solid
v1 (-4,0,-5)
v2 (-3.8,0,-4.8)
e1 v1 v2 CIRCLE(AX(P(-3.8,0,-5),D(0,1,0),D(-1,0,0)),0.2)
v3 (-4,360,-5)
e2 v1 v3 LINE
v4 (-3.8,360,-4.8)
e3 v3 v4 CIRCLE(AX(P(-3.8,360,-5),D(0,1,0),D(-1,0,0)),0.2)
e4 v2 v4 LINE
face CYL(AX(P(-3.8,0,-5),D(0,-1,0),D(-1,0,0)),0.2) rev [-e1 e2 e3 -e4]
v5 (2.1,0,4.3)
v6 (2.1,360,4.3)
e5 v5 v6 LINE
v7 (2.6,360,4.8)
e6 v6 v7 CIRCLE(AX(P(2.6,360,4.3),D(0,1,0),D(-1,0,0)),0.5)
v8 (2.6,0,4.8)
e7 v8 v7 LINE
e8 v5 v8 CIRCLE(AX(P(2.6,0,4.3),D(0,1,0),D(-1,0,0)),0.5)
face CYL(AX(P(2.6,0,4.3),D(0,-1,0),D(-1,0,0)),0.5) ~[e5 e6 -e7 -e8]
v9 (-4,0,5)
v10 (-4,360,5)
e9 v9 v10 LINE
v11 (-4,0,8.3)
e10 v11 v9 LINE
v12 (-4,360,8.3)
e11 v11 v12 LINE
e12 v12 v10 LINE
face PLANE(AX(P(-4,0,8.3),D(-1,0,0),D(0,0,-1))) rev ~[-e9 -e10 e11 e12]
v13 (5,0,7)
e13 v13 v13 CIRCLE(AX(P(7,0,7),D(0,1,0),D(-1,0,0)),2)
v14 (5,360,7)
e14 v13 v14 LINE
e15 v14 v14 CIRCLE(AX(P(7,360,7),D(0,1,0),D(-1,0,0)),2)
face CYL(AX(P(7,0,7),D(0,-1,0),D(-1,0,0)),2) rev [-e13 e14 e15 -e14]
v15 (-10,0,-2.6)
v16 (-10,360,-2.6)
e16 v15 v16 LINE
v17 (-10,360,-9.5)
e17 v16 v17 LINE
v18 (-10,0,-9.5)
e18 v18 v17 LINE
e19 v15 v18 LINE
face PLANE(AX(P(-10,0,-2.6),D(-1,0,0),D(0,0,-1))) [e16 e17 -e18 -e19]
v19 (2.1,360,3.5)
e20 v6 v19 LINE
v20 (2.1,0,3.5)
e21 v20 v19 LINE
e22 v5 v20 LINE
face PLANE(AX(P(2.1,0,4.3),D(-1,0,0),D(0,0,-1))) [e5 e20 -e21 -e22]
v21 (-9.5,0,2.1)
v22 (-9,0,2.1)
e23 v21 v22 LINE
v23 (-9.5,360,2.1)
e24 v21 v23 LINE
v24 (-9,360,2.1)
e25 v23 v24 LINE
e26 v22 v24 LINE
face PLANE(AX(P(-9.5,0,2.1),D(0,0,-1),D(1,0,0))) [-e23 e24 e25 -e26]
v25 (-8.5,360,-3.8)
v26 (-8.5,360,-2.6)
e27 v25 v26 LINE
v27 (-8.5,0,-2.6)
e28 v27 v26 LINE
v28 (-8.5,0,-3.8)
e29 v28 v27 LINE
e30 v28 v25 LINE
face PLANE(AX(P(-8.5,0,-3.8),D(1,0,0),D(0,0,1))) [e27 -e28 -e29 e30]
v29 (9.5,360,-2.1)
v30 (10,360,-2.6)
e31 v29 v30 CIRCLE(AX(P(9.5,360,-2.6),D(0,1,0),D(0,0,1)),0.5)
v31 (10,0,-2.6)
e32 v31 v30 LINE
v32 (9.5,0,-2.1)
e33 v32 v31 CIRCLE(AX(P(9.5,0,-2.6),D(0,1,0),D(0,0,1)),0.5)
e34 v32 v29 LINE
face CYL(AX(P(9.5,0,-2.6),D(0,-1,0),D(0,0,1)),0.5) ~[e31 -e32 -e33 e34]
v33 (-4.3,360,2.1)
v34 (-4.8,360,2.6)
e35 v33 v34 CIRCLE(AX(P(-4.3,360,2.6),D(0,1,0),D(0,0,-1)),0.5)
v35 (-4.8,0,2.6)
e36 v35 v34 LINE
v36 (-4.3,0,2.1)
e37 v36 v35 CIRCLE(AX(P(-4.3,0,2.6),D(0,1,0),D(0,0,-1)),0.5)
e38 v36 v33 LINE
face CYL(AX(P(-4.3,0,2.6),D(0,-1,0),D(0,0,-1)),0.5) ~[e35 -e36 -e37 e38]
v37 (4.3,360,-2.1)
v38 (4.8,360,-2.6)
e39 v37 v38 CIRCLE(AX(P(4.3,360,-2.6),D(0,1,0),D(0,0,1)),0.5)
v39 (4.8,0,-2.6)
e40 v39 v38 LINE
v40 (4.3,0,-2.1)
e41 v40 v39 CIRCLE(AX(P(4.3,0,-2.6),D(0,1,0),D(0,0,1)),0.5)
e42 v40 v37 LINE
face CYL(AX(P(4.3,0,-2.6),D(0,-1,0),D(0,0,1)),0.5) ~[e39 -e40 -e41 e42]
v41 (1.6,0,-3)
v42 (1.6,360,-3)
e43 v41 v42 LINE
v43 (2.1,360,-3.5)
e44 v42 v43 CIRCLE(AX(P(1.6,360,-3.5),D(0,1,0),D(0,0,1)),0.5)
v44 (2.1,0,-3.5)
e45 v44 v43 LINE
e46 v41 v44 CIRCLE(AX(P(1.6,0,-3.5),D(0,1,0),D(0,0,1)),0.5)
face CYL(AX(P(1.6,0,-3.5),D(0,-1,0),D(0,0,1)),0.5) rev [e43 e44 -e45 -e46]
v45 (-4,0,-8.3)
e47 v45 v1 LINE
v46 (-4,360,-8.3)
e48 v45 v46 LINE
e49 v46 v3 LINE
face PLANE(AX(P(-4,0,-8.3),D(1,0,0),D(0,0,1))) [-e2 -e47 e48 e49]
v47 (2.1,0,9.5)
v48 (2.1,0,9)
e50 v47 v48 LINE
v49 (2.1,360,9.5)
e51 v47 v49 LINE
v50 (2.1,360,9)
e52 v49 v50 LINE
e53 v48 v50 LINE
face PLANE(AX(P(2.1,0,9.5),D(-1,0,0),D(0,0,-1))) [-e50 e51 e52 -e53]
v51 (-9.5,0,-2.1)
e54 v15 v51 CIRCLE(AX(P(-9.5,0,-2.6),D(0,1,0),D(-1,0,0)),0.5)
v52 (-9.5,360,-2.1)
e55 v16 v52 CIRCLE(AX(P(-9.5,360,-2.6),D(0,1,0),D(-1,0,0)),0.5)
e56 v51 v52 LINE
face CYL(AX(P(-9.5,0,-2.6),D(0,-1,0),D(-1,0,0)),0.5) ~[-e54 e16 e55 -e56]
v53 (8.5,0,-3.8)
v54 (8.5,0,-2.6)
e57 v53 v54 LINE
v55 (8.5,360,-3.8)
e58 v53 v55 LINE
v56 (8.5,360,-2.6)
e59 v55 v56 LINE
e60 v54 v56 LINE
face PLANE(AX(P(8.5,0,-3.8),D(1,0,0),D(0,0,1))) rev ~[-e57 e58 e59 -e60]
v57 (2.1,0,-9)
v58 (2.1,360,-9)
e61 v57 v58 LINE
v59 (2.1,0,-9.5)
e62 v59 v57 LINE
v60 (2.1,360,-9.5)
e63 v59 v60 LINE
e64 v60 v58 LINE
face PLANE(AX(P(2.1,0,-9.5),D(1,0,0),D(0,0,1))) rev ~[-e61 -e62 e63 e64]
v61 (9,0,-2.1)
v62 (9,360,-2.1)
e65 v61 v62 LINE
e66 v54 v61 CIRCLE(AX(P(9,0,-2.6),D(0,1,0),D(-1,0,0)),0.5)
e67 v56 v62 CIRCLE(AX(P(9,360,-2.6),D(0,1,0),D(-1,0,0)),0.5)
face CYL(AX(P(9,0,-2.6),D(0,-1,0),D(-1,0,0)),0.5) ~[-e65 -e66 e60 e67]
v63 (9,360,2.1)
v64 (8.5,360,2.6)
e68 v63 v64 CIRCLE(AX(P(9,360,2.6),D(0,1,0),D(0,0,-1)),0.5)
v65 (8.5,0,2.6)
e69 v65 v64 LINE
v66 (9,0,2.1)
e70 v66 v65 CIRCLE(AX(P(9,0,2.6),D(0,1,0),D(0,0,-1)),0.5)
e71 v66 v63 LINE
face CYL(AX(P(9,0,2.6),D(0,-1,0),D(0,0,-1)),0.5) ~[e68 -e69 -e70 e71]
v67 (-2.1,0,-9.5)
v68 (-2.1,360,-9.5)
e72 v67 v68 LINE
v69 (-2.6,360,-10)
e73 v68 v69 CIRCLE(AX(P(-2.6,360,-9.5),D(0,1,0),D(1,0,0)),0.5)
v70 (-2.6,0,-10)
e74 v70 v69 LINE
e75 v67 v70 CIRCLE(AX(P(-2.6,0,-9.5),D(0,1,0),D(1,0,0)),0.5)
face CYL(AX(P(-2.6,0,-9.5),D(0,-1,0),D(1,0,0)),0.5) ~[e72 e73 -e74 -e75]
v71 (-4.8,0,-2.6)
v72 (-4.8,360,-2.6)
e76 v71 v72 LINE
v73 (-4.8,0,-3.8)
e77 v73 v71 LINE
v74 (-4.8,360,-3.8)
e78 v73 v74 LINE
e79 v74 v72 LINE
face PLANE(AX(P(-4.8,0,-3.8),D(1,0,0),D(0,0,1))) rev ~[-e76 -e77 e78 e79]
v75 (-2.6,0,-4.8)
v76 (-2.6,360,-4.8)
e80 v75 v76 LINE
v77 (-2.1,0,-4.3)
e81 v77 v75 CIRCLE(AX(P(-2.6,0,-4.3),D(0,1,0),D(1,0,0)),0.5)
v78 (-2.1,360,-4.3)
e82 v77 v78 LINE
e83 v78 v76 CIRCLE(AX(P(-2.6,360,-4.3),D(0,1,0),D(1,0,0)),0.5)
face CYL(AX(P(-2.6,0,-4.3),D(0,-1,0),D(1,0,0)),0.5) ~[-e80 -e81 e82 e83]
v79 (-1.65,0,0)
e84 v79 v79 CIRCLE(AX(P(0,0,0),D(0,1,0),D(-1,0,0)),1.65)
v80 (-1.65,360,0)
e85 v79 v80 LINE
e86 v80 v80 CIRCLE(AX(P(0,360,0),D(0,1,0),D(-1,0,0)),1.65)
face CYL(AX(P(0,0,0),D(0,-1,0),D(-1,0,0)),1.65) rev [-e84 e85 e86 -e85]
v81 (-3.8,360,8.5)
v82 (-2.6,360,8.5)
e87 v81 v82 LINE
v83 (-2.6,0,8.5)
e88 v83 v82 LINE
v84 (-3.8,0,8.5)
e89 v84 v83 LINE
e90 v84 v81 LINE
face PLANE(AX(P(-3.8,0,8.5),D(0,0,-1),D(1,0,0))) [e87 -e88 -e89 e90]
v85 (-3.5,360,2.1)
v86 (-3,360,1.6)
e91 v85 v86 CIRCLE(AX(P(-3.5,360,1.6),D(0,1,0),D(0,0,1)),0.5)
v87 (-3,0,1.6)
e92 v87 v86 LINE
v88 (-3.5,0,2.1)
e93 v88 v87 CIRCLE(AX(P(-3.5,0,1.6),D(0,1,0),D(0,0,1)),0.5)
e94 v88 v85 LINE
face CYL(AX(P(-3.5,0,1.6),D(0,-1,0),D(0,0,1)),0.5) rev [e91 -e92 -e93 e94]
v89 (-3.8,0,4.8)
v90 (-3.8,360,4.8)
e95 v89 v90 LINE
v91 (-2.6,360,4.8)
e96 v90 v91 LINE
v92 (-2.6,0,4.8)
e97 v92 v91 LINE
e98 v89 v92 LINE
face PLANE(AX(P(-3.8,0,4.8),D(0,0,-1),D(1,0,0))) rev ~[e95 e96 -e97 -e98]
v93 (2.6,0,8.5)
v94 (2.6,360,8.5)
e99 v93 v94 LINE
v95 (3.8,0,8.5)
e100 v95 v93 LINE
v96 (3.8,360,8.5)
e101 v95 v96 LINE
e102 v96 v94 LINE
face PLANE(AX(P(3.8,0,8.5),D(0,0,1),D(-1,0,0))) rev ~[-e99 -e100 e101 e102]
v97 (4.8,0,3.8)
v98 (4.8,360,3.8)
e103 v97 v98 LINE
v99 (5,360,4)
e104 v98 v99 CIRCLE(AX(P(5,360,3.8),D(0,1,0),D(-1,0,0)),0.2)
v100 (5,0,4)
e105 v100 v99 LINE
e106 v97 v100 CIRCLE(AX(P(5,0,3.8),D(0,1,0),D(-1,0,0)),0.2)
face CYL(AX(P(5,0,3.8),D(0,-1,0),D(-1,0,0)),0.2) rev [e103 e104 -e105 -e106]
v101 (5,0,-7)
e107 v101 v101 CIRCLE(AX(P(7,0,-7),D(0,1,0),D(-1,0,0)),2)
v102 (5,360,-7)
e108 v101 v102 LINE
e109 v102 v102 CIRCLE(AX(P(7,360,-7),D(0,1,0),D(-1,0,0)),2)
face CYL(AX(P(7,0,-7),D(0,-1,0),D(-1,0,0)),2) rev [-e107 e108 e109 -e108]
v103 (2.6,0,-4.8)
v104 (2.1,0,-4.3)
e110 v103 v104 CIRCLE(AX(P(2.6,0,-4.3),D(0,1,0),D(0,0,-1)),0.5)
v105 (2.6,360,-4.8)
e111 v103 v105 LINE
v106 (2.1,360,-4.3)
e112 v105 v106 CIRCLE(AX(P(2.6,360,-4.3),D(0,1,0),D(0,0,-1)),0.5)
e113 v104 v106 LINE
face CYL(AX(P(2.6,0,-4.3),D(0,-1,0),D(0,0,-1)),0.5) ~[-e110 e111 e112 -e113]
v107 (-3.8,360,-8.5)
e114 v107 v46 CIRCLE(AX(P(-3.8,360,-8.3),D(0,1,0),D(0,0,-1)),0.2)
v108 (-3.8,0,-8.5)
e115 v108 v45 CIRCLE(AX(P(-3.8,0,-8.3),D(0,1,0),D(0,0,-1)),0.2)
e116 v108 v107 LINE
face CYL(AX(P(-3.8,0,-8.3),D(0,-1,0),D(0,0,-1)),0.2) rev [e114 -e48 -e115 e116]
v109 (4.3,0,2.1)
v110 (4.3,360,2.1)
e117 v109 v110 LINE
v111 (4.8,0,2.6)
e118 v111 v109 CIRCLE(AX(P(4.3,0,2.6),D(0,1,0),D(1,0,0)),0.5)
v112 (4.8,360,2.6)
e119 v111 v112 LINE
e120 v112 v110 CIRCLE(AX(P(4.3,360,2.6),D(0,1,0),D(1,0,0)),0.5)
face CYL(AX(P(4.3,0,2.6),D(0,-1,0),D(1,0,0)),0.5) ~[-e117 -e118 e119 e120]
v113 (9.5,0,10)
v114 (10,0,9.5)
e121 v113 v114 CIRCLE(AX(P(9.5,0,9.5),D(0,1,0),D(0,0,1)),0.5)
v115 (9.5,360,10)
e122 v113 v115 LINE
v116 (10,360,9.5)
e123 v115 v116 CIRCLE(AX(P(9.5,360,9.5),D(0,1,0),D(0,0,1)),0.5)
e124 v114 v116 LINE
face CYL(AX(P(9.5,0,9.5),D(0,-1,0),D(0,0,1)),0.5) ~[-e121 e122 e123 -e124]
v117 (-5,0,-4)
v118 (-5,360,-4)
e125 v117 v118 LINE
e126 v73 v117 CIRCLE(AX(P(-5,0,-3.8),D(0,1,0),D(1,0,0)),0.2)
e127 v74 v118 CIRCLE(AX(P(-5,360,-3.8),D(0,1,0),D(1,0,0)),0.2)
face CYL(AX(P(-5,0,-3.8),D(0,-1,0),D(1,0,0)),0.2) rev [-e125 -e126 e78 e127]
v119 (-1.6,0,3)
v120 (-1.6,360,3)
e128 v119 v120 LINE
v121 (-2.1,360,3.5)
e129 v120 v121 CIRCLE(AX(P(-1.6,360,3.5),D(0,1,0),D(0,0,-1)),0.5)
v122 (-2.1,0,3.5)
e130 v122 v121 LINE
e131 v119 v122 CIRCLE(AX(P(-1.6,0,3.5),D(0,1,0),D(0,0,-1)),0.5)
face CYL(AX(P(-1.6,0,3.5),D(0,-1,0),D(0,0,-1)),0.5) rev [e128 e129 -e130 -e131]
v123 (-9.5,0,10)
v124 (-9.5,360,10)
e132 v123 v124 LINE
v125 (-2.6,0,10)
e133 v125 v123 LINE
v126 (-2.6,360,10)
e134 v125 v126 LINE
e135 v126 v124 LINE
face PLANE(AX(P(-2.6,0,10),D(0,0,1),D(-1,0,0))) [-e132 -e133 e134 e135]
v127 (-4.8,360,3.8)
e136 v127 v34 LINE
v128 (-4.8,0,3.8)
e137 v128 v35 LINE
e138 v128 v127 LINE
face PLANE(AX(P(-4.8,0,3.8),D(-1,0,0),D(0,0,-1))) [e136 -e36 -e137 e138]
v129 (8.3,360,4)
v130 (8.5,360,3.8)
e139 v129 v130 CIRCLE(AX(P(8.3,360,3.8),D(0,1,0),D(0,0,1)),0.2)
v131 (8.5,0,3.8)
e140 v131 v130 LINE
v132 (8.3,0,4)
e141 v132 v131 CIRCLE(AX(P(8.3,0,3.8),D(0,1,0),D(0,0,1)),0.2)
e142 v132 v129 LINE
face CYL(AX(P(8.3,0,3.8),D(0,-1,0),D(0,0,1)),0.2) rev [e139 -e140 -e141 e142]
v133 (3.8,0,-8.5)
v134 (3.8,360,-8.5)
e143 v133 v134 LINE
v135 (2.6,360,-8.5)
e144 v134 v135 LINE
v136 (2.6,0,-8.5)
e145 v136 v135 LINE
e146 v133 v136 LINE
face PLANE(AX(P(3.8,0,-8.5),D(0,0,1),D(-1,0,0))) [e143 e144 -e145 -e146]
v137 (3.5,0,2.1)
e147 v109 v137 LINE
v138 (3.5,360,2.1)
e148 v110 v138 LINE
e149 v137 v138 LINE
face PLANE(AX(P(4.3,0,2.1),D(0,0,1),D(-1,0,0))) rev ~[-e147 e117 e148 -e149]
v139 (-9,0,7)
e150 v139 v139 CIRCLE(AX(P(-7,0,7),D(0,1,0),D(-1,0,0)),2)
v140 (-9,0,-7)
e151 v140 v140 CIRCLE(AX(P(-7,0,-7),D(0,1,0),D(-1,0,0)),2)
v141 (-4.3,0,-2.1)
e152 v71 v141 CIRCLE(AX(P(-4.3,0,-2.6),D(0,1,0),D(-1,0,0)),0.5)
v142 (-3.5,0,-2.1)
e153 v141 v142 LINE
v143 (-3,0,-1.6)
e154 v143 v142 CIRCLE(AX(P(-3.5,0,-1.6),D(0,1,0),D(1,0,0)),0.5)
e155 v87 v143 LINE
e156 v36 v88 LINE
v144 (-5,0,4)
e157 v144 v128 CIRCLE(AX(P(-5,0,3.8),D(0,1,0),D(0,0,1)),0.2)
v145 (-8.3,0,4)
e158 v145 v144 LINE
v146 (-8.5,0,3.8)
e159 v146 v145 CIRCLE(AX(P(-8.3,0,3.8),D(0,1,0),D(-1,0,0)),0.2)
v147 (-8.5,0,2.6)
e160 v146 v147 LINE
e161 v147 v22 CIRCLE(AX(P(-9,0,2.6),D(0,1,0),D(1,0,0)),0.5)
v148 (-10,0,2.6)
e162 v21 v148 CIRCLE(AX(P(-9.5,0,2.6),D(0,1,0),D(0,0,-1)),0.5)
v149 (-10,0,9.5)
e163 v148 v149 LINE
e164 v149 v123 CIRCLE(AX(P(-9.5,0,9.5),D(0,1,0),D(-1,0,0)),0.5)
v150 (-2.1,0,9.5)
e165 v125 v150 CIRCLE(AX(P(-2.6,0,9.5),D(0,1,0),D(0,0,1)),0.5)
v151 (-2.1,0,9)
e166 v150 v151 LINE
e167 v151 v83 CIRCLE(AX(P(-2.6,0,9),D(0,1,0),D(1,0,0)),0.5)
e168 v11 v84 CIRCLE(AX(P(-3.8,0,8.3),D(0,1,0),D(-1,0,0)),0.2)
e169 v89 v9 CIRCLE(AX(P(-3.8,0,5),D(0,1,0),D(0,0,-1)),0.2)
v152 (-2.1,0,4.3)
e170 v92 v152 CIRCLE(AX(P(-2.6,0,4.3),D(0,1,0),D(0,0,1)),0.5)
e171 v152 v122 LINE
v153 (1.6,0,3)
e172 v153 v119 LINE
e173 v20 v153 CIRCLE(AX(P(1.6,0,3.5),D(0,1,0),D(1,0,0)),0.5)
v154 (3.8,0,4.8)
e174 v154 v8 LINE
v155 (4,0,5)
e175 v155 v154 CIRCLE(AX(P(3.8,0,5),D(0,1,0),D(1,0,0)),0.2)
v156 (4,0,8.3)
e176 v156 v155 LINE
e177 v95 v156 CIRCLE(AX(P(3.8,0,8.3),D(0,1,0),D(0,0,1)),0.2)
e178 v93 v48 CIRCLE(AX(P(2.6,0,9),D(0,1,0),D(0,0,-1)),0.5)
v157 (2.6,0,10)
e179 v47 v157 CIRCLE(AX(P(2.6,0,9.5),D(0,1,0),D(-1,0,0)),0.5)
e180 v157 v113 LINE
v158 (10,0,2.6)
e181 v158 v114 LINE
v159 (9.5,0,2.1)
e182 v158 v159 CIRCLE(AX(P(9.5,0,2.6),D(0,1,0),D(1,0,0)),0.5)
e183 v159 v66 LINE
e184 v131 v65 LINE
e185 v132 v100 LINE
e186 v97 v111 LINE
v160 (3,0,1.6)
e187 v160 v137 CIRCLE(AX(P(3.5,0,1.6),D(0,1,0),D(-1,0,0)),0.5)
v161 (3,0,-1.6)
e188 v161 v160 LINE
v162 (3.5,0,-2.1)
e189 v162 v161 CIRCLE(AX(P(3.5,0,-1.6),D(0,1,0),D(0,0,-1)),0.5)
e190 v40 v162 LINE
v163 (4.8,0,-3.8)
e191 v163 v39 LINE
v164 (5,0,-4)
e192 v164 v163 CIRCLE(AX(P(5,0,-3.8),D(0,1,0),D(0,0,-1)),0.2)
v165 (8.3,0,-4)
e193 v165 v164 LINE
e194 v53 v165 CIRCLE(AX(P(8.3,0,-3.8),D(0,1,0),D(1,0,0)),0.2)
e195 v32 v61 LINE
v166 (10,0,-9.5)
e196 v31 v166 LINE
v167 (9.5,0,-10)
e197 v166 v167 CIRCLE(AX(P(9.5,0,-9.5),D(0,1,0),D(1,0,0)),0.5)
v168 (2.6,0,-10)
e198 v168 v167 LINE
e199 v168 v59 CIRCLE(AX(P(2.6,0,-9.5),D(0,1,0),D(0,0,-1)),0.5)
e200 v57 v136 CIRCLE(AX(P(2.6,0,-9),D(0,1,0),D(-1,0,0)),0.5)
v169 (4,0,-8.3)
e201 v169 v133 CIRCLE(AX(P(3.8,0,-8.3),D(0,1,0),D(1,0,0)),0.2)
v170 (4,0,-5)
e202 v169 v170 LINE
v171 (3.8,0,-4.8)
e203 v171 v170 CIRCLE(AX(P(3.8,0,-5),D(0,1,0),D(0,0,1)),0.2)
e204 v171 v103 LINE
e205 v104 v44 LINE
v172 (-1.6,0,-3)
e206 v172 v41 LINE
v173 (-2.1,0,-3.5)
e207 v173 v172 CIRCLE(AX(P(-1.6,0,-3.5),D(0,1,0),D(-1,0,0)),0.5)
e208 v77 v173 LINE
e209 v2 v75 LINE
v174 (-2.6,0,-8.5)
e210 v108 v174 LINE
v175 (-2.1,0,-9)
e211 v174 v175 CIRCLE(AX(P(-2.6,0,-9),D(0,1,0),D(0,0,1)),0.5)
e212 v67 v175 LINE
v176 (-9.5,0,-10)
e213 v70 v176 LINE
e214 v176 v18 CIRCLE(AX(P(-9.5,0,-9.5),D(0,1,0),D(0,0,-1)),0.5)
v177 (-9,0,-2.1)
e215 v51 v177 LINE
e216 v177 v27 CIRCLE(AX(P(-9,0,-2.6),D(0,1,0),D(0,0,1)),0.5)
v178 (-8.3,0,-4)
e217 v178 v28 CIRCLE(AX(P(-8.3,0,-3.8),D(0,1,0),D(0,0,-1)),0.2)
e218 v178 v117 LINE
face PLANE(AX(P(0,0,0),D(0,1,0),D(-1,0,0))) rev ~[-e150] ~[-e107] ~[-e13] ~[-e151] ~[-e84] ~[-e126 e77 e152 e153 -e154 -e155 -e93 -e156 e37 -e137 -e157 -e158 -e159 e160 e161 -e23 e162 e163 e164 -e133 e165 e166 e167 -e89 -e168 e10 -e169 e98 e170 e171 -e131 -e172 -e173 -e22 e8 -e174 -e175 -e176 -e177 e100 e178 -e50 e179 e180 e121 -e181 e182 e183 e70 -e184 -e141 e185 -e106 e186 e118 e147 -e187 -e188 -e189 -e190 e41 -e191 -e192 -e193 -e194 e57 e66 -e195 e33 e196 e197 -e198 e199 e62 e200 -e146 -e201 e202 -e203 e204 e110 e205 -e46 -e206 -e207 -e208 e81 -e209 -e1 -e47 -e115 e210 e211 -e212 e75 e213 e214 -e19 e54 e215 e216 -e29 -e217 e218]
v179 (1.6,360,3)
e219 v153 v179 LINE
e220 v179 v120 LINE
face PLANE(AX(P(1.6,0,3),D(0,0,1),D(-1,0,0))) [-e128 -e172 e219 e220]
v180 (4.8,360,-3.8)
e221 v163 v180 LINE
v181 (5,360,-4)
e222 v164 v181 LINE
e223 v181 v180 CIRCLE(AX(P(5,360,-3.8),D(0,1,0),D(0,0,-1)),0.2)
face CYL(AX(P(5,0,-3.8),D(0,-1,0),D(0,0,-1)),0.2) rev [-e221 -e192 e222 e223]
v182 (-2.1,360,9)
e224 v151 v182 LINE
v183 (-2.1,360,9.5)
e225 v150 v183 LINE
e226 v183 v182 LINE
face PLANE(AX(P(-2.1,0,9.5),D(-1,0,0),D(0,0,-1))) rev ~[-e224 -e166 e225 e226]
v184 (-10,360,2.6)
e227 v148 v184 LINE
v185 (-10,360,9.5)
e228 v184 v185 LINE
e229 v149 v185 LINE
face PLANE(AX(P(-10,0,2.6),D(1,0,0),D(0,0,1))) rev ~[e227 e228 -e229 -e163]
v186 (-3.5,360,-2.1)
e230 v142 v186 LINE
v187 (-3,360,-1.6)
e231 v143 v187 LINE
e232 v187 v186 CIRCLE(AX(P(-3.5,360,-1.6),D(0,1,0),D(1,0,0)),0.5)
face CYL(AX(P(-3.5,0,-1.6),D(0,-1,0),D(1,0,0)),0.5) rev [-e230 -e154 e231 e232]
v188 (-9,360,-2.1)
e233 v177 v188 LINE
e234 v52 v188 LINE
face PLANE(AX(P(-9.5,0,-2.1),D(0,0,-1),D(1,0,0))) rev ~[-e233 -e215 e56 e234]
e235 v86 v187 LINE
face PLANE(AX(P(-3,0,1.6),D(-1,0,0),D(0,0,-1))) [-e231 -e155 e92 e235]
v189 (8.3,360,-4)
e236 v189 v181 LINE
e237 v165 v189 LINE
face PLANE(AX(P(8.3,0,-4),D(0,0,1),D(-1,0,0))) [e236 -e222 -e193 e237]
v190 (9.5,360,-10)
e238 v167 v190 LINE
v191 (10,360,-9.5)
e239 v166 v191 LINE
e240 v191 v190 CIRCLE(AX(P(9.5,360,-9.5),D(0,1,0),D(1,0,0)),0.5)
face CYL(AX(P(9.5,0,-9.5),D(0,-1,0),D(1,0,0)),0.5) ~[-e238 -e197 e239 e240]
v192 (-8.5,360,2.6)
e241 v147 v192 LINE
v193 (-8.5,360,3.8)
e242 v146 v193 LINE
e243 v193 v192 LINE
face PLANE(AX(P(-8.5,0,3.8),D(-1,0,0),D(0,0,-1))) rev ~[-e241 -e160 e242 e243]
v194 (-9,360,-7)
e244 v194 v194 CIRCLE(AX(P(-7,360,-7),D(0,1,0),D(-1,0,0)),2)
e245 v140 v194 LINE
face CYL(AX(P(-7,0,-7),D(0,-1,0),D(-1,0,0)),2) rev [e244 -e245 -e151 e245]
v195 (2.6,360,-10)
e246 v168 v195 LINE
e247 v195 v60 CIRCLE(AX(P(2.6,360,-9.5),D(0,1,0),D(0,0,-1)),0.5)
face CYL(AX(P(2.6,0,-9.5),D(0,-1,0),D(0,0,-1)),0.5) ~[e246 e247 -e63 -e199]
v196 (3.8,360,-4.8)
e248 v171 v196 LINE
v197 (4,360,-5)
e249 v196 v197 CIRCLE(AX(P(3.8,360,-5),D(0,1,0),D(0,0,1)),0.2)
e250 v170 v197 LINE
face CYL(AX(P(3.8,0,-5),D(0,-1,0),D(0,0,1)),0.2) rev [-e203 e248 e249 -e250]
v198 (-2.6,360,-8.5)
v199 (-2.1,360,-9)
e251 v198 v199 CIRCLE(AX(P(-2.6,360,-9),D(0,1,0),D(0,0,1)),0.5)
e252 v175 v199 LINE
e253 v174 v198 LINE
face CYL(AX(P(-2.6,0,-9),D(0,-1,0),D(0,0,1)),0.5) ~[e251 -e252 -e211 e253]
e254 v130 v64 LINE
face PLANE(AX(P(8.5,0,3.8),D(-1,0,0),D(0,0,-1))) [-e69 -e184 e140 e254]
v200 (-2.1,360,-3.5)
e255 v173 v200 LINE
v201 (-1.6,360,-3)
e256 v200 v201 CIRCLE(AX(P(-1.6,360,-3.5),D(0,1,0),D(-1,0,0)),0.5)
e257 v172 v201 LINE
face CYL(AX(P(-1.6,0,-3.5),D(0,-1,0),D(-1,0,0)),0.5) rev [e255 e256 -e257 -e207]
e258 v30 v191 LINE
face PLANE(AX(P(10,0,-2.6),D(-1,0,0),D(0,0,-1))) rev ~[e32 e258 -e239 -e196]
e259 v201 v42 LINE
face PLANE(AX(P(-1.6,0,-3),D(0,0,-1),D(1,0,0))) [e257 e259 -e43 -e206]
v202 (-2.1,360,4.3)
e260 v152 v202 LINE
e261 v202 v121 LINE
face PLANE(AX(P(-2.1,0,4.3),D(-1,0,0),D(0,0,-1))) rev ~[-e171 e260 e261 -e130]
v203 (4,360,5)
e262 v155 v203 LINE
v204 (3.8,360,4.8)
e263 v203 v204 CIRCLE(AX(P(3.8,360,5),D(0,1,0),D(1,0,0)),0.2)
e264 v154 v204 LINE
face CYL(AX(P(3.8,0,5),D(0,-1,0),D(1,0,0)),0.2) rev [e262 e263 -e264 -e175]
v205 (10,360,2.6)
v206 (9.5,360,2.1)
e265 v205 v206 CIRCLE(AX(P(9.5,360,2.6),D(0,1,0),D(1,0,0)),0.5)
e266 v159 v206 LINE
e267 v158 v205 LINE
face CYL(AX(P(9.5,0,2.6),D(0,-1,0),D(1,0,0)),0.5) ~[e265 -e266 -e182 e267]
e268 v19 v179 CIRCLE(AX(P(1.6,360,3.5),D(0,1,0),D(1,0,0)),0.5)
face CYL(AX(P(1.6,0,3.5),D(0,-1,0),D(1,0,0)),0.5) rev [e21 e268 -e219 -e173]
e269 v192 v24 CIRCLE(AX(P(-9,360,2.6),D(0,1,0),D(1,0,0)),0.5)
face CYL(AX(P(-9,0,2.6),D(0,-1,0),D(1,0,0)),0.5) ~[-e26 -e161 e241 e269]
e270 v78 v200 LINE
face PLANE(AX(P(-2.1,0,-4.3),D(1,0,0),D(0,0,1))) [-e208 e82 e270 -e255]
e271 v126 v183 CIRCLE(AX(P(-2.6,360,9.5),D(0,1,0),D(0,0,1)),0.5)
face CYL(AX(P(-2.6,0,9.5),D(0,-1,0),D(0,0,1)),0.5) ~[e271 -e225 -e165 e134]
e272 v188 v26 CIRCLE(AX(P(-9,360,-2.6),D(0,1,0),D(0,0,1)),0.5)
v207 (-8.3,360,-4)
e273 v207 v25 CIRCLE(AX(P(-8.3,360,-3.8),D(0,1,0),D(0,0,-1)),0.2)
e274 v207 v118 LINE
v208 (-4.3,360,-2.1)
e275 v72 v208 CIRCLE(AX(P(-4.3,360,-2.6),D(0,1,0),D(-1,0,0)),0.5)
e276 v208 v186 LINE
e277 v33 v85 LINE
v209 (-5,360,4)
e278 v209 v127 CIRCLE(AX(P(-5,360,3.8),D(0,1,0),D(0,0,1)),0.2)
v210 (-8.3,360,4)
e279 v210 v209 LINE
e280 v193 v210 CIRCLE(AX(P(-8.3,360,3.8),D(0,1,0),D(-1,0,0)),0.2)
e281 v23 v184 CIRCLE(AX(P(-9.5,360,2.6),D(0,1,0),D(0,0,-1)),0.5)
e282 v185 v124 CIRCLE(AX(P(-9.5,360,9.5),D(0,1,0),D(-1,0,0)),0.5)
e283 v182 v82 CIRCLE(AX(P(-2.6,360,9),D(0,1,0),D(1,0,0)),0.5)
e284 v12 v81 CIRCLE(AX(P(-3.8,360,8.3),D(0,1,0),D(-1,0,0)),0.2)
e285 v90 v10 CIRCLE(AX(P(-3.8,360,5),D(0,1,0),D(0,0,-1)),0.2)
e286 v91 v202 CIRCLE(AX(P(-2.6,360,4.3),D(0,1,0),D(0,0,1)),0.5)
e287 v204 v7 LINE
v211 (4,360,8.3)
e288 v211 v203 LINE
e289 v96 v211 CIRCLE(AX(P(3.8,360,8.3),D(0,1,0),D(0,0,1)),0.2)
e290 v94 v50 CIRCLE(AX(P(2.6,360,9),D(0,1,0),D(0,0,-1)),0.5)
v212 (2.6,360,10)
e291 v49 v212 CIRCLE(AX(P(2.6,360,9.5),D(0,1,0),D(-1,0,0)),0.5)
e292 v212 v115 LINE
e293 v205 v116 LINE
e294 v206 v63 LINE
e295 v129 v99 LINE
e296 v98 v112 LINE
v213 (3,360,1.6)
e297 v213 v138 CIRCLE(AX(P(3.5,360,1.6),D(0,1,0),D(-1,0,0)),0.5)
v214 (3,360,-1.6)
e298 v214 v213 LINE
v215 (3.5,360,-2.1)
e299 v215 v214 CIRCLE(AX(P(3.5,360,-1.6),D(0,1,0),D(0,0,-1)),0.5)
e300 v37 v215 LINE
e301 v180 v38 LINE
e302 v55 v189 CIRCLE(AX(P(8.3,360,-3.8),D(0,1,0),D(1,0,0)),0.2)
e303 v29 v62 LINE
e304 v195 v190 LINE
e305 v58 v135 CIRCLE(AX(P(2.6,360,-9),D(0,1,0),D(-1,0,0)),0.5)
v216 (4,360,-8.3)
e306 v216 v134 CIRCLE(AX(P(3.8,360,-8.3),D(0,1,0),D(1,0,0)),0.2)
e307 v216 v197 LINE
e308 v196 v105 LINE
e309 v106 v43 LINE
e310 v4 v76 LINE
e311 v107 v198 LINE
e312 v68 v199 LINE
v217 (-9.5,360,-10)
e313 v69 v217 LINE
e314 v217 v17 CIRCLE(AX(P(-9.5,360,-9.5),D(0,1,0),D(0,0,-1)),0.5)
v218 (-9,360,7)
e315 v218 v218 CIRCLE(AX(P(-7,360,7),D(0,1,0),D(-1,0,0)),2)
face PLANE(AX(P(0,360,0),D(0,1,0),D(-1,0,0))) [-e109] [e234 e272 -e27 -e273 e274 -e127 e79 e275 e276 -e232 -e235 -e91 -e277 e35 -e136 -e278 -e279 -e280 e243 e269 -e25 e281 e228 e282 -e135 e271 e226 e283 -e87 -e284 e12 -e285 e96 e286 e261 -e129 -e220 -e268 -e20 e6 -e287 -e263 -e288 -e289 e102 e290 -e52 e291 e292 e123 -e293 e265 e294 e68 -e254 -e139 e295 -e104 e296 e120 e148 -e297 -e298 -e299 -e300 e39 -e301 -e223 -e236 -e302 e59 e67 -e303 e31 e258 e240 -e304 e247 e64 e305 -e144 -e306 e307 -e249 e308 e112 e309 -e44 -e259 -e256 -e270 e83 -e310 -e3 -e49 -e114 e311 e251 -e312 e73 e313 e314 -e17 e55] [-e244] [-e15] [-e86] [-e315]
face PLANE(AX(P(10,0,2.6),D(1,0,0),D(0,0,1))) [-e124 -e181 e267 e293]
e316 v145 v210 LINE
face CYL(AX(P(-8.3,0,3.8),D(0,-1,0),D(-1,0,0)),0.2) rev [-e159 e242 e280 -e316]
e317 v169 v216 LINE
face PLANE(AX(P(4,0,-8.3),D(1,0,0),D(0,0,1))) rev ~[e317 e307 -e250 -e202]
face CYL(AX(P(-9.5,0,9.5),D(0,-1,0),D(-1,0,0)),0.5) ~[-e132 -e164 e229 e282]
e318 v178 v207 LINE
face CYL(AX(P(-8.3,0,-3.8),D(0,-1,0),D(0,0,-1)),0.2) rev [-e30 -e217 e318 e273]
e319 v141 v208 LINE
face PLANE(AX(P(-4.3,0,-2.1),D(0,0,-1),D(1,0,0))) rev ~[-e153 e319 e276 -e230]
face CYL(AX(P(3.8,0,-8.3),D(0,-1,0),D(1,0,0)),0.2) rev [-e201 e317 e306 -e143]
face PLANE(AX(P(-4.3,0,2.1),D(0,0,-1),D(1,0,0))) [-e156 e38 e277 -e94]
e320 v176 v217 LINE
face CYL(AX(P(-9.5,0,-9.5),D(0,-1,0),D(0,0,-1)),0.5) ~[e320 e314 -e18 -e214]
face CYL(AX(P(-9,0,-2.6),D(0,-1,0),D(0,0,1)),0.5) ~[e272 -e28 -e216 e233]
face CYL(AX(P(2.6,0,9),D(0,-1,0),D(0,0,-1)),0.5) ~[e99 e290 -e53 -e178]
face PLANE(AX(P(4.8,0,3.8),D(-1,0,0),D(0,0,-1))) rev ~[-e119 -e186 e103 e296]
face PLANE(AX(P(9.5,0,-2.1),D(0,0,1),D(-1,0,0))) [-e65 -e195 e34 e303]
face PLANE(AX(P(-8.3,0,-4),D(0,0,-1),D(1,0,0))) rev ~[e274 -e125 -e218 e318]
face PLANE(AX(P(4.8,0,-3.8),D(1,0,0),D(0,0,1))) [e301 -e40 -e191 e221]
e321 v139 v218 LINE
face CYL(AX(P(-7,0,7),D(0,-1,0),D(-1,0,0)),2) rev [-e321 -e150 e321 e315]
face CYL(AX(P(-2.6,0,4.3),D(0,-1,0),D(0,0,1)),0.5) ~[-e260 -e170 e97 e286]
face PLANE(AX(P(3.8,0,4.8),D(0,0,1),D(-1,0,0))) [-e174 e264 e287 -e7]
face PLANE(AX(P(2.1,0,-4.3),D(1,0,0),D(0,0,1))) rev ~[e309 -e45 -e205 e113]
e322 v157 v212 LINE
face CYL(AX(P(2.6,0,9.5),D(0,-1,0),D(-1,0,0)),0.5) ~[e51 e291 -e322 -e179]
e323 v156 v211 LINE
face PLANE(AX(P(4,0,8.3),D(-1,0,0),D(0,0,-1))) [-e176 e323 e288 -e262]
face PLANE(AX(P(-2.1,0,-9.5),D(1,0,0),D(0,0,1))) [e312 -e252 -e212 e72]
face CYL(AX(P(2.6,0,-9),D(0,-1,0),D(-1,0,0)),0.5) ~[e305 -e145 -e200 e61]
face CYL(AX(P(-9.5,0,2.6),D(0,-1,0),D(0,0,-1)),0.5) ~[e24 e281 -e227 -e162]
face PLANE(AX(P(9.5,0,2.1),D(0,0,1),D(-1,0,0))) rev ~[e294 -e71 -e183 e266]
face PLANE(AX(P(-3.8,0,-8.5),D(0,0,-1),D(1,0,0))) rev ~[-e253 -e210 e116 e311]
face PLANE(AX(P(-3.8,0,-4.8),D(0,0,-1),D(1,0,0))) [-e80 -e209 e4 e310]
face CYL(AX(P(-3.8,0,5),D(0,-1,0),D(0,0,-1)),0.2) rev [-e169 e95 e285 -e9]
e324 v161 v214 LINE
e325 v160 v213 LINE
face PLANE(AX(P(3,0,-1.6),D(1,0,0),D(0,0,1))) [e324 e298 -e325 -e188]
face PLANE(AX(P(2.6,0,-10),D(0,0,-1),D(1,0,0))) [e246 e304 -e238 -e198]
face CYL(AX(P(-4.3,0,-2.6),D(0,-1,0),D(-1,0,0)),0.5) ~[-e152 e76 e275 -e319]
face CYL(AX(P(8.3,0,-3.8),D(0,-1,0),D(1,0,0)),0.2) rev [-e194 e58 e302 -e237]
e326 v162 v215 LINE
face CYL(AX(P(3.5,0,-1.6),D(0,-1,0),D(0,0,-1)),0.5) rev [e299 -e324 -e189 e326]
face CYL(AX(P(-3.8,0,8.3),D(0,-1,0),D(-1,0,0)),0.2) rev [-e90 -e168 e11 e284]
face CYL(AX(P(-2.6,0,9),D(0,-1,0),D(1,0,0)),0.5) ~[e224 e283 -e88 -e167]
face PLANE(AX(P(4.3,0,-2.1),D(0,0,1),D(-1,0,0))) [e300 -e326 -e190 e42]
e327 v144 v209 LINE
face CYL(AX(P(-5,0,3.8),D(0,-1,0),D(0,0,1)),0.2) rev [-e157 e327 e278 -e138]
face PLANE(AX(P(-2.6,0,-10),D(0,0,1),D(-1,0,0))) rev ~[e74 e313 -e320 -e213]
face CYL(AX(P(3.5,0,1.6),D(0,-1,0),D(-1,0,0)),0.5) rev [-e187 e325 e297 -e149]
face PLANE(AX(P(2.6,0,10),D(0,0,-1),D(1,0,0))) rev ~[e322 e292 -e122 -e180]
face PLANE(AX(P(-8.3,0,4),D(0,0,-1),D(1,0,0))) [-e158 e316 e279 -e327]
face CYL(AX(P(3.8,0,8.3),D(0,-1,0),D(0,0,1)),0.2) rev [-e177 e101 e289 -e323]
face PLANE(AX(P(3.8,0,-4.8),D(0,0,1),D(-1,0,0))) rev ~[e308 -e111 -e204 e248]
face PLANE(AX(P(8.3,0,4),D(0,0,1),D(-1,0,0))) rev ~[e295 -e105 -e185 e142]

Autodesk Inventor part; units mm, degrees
ref_plane "YZ Plane" through (0, 0, 0) normal (1, 0, 0) x (0, 1, 0)
ref_plane "開始平面" through (0, 0, 0) normal (0, 1, 0) x (-1, 0, 0)
ref_plane "終了平面" through (0, 360, 0) normal (0, 1, 0) x (-1, 0, 0)
sketch "スケッチ" plane through (0, 0, 0) normal (0, 1, 0) x (-1, 0, 0)
  line L0 (8.5, -3.8) -> (8.5, -2.6)
  line L1 (4, -8.3) -> (4, -5)
  circle A0 centre (7, -7) radius 2
  line L2 (10, -2.6) -> (10, -9.5)
  line L3 (2.6, -10) -> (9.5, -10)
  line L4 (2.1, -9.5) -> (2.1, -9)
  line L5 (8.5, -2.1) -> (8.5, -4)
  line L6 (3.8, -4.8) -> (2.6, -4.8)
  line L7 (4.8, -3.8) -> (4.8, -2.6)
  arc A1 (2.1, -4.3) -> (2.6, -4.8) centre (2.6, -4.3) ccw
  arc A2 (2.6, -8.5) -> (2.1, -9) centre (2.6, -9) ccw
  arc A3 (3.8, -8.5) -> (4, -8.3) centre (3.8, -8.3) ccw
  arc A4 (4, -5) -> (3.8, -4.8) centre (3.8, -5) ccw
  arc A5 (2.1, -3.5) -> (1.6, -3) centre (1.6, -3.5) ccw
  arc A6 (2.1, -9.5) -> (2.6, -10) centre (2.6, -9.5) ccw
  arc A7 (9.5, -10) -> (10, -9.5) centre (9.5, -9.5) ccw
  arc A8 (10, -2.6) -> (9.5, -2.1) centre (9.5, -2.6) ccw
  arc A9 (9, -2.1) -> (8.5, -2.6) centre (9, -2.6) ccw
  arc A10 (8.3, -4) -> (8.5, -3.8) centre (8.3, -3.8) ccw
  arc A11 (4.8, -3.8) -> (5, -4) centre (5, -3.8) ccw
  line L8 (4.3, -2.1) -> (3.5, -2.1)
  arc A12 (4.8, -2.6) -> (4.3, -2.1) centre (4.3, -2.6) ccw
  arc A13 (3, -1.6) -> (3.5, -2.1) centre (3.5, -1.6) ccw
  line L9 (2.1, -4.3) -> (2.1, -3.5)
  line L10 (3.8, -8.5) -> (2.6, -8.5)
  line L11 (9.5, -2.1) -> (9, -2.1)
  line L12 (8.3, -4) -> (5, -4)
  circle A14 centre (0, 0) radius 1.65
  arc A15 (8.5, 2.6) -> (9, 2.1) centre (9, 2.6) ccw
  line L13 (8.5, 3.8) -> (8.5, 2.6)
  arc A16 (8.5, 3.8) -> (8.3, 4) centre (8.3, 3.8) ccw
  line L14 (8.3, 4) -> (5, 4)
  line L15 (10, 2.6) -> (10, 9.5)
  arc A17 (10, 9.5) -> (9.5, 10) centre (9.5, 9.5) ccw
  circle A18 centre (7, 7) radius 2
  line L16 (4, 8.3) -> (4, 5)
  line L17 (2.6, 10) -> (9.5, 10)
  line L18 (9.5, 2.1) -> (9, 2.1)
  arc A19 (9.5, 2.1) -> (10, 2.6) centre (9.5, 2.6) ccw
  line L19 (3.8, 8.5) -> (2.6, 8.5)
  line L20 (4.8, 3.8) -> (4.8, 2.6)
  arc A20 (4.3, 2.1) -> (4.8, 2.6) centre (4.3, 2.6) ccw
  line L21 (2.1, 8.5) -> (4, 8.5)
  arc A21 (4, 8.3) -> (3.8, 8.5) centre (3.8, 8.3) ccw
  arc A22 (2.1, 9) -> (2.6, 8.5) centre (2.6, 9) ccw
  arc A23 (2.6, 10) -> (2.1, 9.5) centre (2.6, 9.5) ccw
  line L22 (2.1, 9.5) -> (2.1, 9)
  arc A24 (1.6, 3) -> (2.1, 3.5) centre (1.6, 3.5) ccw
  line L23 (3.8, 4.8) -> (2.6, 4.8)
  arc A25 (5, 4) -> (4.8, 3.8) centre (5, 3.8) ccw
  arc A26 (3.8, 4.8) -> (4, 5) centre (3.8, 5) ccw
  line L24 (4.3, 2.1) -> (3.5, 2.1)
  arc A27 (2.6, 4.8) -> (2.1, 4.3) centre (2.6, 4.3) ccw
  line L25 (2.1, 4.3) -> (2.1, 3.5)
  arc A28 (3.5, 2.1) -> (3, 1.6) centre (3.5, 1.6) ccw
  arc A29 (-2.6, 8.5) -> (-2.1, 9) centre (-2.6, 9) ccw
  line L26 (-3.8, 8.5) -> (-2.6, 8.5)
  arc A30 (-3.8, 8.5) -> (-4, 8.3) centre (-3.8, 8.3) ccw
  line L27 (-4, 8.3) -> (-4, 5)
  line L28 (-2.6, 10) -> (-9.5, 10)
  arc A31 (-9.5, 10) -> (-10, 9.5) centre (-9.5, 9.5) ccw
  circle A32 centre (-7, 7) radius 2
  line L29 (-8.3, 4) -> (-5, 4)
  line L30 (-10, 2.6) -> (-10, 9.5)
  line L31 (-2.1, 9.5) -> (-2.1, 9)
  arc A33 (-2.1, 9.5) -> (-2.6, 10) centre (-2.6, 9.5) ccw
  line L32 (-8.5, 3.8) -> (-8.5, 2.6)
  line L33 (-3.8, 4.8) -> (-2.6, 4.8)
  arc A34 (-2.1, 4.3) -> (-2.6, 4.8) centre (-2.6, 4.3) ccw
  line L34 (-8.5, 2.1) -> (-8.5, 4)
  arc A35 (-8.3, 4) -> (-8.5, 3.8) centre (-8.3, 3.8) ccw
  arc A36 (-9, 2.1) -> (-8.5, 2.6) centre (-9, 2.6) ccw
  arc A37 (-10, 2.6) -> (-9.5, 2.1) centre (-9.5, 2.6) ccw
  line L35 (-9.5, 2.1) -> (-9, 2.1)
  arc A38 (-3, 1.6) -> (-3.5, 2.1) centre (-3.5, 1.6) ccw
  line L36 (-4.8, 3.8) -> (-4.8, 2.6)
  arc A39 (-4, 5) -> (-3.8, 4.8) centre (-3.8, 5) ccw
  arc A40 (-4.8, 3.8) -> (-5, 4) centre (-5, 3.8) ccw
  line L37 (-2.1, 4.3) -> (-2.1, 3.5)
  arc A41 (-4.8, 2.6) -> (-4.3, 2.1) centre (-4.3, 2.6) ccw
  line L38 (-4.3, 2.1) -> (-3.5, 2.1)
  arc A42 (-2.1, 3.5) -> (-1.6, 3) centre (-1.6, 3.5) ccw
  arc A43 (-8.5, -2.6) -> (-9, -2.1) centre (-9, -2.6) ccw
  line L39 (-8.5, -3.8) -> (-8.5, -2.6)
  arc A44 (-8.5, -3.8) -> (-8.3, -4) centre (-8.3, -3.8) ccw
  line L40 (-8.3, -4) -> (-5, -4)
  line L41 (-10, -2.6) -> (-10, -9.5)
  arc A45 (-10, -9.5) -> (-9.5, -10) centre (-9.5, -9.5) ccw
  circle A46 centre (-7, -7) radius 2
  line L42 (-4, -8.3) -> (-4, -5)
  line L43 (-2.6, -10) -> (-9.5, -10)
  line L44 (-9.5, -2.1) -> (-9, -2.1)
  arc A47 (-9.5, -2.1) -> (-10, -2.6) centre (-9.5, -2.6) ccw
  line L45 (-3.8, -8.5) -> (-2.6, -8.5)
  line L46 (-4.8, -3.8) -> (-4.8, -2.6)
  arc A48 (-4.3, -2.1) -> (-4.8, -2.6) centre (-4.3, -2.6) ccw
  line L47 (-2.1, -8.5) -> (-4, -8.5)
  arc A49 (-4, -8.3) -> (-3.8, -8.5) centre (-3.8, -8.3) ccw
  arc A50 (-2.1, -9) -> (-2.6, -8.5) centre (-2.6, -9) ccw
  arc A51 (-2.6, -10) -> (-2.1, -9.5) centre (-2.6, -9.5) ccw
  line L48 (-2.1, -9.5) -> (-2.1, -9)
  arc A52 (-1.6, -3) -> (-2.1, -3.5) centre (-1.6, -3.5) ccw
  line L49 (-3.8, -4.8) -> (-2.6, -4.8)
  arc A53 (-5, -4) -> (-4.8, -3.8) centre (-5, -3.8) ccw
  arc A54 (-3.8, -4.8) -> (-4, -5) centre (-3.8, -5) ccw
  line L50 (-4.3, -2.1) -> (-3.5, -2.1)
  arc A55 (-2.6, -4.8) -> (-2.1, -4.3) centre (-2.6, -4.3) ccw
  line L51 (-2.1, -4.3) -> (-2.1, -3.5)
  arc A56 (-3.5, -2.1) -> (-3, -1.6) centre (-3.5, -1.6) ccw
  line L52 (1.6, -3) -> (-1.6, -3)
  line L53 (-3, -1.6) -> (-3, 1.6)
  line L54 (-1.6, 3) -> (1.6, 3)
  line L55 (3, 1.6) -> (3, -1.6)
  point P0 (2.1, -10)
  point P1 (10, 2.1)
  point P2 (-2.1, 10)
  point P3 (-10, -2.1)
  dimension "d12" = 4
  dimension "d14" = 3.7
  dimension "d16" = 0.5
  dimension "d17" = 0.5
  dimension "d18" = 0.2
  dimension "d19" = 0.5
  dimension "d20" = 0.5
  dimension "d24" = 0.5
  dimension "d25" = 0.2
  dimension "d28" = 0.5
  dimension "d31" = 1.5
  dimension "d36" = 3.7
  dimension "d37" = 1.5
  dimension "d58" = 3.3
  dimension "d65" = 10
  dimension "d67" = 2.1
  dimension "d68" = 2.1
  dimension "d69" = 1.9
  dimension "d70" = 7
  dimension "d72" = 2.1
  dimension "d73" = 2.1
  dimension "d74" = 1.9
  dimension "d75" = 7
  dimension "d76" = 10
  dimension "d80" = 360
  dimension "d82" = 3
extrude "ボディ" add sketch "スケッチ" along normal up to surface (360 mm away) from surface at 0
equation "\"G_OFFSET_START\" = 0"
equation "\"G_OFFSET_END\" = 0"
equation "\"G_L\" = d90"
equation "\"d90\" = 330"
properties part number "s360" material "アルミニウム 6061"
